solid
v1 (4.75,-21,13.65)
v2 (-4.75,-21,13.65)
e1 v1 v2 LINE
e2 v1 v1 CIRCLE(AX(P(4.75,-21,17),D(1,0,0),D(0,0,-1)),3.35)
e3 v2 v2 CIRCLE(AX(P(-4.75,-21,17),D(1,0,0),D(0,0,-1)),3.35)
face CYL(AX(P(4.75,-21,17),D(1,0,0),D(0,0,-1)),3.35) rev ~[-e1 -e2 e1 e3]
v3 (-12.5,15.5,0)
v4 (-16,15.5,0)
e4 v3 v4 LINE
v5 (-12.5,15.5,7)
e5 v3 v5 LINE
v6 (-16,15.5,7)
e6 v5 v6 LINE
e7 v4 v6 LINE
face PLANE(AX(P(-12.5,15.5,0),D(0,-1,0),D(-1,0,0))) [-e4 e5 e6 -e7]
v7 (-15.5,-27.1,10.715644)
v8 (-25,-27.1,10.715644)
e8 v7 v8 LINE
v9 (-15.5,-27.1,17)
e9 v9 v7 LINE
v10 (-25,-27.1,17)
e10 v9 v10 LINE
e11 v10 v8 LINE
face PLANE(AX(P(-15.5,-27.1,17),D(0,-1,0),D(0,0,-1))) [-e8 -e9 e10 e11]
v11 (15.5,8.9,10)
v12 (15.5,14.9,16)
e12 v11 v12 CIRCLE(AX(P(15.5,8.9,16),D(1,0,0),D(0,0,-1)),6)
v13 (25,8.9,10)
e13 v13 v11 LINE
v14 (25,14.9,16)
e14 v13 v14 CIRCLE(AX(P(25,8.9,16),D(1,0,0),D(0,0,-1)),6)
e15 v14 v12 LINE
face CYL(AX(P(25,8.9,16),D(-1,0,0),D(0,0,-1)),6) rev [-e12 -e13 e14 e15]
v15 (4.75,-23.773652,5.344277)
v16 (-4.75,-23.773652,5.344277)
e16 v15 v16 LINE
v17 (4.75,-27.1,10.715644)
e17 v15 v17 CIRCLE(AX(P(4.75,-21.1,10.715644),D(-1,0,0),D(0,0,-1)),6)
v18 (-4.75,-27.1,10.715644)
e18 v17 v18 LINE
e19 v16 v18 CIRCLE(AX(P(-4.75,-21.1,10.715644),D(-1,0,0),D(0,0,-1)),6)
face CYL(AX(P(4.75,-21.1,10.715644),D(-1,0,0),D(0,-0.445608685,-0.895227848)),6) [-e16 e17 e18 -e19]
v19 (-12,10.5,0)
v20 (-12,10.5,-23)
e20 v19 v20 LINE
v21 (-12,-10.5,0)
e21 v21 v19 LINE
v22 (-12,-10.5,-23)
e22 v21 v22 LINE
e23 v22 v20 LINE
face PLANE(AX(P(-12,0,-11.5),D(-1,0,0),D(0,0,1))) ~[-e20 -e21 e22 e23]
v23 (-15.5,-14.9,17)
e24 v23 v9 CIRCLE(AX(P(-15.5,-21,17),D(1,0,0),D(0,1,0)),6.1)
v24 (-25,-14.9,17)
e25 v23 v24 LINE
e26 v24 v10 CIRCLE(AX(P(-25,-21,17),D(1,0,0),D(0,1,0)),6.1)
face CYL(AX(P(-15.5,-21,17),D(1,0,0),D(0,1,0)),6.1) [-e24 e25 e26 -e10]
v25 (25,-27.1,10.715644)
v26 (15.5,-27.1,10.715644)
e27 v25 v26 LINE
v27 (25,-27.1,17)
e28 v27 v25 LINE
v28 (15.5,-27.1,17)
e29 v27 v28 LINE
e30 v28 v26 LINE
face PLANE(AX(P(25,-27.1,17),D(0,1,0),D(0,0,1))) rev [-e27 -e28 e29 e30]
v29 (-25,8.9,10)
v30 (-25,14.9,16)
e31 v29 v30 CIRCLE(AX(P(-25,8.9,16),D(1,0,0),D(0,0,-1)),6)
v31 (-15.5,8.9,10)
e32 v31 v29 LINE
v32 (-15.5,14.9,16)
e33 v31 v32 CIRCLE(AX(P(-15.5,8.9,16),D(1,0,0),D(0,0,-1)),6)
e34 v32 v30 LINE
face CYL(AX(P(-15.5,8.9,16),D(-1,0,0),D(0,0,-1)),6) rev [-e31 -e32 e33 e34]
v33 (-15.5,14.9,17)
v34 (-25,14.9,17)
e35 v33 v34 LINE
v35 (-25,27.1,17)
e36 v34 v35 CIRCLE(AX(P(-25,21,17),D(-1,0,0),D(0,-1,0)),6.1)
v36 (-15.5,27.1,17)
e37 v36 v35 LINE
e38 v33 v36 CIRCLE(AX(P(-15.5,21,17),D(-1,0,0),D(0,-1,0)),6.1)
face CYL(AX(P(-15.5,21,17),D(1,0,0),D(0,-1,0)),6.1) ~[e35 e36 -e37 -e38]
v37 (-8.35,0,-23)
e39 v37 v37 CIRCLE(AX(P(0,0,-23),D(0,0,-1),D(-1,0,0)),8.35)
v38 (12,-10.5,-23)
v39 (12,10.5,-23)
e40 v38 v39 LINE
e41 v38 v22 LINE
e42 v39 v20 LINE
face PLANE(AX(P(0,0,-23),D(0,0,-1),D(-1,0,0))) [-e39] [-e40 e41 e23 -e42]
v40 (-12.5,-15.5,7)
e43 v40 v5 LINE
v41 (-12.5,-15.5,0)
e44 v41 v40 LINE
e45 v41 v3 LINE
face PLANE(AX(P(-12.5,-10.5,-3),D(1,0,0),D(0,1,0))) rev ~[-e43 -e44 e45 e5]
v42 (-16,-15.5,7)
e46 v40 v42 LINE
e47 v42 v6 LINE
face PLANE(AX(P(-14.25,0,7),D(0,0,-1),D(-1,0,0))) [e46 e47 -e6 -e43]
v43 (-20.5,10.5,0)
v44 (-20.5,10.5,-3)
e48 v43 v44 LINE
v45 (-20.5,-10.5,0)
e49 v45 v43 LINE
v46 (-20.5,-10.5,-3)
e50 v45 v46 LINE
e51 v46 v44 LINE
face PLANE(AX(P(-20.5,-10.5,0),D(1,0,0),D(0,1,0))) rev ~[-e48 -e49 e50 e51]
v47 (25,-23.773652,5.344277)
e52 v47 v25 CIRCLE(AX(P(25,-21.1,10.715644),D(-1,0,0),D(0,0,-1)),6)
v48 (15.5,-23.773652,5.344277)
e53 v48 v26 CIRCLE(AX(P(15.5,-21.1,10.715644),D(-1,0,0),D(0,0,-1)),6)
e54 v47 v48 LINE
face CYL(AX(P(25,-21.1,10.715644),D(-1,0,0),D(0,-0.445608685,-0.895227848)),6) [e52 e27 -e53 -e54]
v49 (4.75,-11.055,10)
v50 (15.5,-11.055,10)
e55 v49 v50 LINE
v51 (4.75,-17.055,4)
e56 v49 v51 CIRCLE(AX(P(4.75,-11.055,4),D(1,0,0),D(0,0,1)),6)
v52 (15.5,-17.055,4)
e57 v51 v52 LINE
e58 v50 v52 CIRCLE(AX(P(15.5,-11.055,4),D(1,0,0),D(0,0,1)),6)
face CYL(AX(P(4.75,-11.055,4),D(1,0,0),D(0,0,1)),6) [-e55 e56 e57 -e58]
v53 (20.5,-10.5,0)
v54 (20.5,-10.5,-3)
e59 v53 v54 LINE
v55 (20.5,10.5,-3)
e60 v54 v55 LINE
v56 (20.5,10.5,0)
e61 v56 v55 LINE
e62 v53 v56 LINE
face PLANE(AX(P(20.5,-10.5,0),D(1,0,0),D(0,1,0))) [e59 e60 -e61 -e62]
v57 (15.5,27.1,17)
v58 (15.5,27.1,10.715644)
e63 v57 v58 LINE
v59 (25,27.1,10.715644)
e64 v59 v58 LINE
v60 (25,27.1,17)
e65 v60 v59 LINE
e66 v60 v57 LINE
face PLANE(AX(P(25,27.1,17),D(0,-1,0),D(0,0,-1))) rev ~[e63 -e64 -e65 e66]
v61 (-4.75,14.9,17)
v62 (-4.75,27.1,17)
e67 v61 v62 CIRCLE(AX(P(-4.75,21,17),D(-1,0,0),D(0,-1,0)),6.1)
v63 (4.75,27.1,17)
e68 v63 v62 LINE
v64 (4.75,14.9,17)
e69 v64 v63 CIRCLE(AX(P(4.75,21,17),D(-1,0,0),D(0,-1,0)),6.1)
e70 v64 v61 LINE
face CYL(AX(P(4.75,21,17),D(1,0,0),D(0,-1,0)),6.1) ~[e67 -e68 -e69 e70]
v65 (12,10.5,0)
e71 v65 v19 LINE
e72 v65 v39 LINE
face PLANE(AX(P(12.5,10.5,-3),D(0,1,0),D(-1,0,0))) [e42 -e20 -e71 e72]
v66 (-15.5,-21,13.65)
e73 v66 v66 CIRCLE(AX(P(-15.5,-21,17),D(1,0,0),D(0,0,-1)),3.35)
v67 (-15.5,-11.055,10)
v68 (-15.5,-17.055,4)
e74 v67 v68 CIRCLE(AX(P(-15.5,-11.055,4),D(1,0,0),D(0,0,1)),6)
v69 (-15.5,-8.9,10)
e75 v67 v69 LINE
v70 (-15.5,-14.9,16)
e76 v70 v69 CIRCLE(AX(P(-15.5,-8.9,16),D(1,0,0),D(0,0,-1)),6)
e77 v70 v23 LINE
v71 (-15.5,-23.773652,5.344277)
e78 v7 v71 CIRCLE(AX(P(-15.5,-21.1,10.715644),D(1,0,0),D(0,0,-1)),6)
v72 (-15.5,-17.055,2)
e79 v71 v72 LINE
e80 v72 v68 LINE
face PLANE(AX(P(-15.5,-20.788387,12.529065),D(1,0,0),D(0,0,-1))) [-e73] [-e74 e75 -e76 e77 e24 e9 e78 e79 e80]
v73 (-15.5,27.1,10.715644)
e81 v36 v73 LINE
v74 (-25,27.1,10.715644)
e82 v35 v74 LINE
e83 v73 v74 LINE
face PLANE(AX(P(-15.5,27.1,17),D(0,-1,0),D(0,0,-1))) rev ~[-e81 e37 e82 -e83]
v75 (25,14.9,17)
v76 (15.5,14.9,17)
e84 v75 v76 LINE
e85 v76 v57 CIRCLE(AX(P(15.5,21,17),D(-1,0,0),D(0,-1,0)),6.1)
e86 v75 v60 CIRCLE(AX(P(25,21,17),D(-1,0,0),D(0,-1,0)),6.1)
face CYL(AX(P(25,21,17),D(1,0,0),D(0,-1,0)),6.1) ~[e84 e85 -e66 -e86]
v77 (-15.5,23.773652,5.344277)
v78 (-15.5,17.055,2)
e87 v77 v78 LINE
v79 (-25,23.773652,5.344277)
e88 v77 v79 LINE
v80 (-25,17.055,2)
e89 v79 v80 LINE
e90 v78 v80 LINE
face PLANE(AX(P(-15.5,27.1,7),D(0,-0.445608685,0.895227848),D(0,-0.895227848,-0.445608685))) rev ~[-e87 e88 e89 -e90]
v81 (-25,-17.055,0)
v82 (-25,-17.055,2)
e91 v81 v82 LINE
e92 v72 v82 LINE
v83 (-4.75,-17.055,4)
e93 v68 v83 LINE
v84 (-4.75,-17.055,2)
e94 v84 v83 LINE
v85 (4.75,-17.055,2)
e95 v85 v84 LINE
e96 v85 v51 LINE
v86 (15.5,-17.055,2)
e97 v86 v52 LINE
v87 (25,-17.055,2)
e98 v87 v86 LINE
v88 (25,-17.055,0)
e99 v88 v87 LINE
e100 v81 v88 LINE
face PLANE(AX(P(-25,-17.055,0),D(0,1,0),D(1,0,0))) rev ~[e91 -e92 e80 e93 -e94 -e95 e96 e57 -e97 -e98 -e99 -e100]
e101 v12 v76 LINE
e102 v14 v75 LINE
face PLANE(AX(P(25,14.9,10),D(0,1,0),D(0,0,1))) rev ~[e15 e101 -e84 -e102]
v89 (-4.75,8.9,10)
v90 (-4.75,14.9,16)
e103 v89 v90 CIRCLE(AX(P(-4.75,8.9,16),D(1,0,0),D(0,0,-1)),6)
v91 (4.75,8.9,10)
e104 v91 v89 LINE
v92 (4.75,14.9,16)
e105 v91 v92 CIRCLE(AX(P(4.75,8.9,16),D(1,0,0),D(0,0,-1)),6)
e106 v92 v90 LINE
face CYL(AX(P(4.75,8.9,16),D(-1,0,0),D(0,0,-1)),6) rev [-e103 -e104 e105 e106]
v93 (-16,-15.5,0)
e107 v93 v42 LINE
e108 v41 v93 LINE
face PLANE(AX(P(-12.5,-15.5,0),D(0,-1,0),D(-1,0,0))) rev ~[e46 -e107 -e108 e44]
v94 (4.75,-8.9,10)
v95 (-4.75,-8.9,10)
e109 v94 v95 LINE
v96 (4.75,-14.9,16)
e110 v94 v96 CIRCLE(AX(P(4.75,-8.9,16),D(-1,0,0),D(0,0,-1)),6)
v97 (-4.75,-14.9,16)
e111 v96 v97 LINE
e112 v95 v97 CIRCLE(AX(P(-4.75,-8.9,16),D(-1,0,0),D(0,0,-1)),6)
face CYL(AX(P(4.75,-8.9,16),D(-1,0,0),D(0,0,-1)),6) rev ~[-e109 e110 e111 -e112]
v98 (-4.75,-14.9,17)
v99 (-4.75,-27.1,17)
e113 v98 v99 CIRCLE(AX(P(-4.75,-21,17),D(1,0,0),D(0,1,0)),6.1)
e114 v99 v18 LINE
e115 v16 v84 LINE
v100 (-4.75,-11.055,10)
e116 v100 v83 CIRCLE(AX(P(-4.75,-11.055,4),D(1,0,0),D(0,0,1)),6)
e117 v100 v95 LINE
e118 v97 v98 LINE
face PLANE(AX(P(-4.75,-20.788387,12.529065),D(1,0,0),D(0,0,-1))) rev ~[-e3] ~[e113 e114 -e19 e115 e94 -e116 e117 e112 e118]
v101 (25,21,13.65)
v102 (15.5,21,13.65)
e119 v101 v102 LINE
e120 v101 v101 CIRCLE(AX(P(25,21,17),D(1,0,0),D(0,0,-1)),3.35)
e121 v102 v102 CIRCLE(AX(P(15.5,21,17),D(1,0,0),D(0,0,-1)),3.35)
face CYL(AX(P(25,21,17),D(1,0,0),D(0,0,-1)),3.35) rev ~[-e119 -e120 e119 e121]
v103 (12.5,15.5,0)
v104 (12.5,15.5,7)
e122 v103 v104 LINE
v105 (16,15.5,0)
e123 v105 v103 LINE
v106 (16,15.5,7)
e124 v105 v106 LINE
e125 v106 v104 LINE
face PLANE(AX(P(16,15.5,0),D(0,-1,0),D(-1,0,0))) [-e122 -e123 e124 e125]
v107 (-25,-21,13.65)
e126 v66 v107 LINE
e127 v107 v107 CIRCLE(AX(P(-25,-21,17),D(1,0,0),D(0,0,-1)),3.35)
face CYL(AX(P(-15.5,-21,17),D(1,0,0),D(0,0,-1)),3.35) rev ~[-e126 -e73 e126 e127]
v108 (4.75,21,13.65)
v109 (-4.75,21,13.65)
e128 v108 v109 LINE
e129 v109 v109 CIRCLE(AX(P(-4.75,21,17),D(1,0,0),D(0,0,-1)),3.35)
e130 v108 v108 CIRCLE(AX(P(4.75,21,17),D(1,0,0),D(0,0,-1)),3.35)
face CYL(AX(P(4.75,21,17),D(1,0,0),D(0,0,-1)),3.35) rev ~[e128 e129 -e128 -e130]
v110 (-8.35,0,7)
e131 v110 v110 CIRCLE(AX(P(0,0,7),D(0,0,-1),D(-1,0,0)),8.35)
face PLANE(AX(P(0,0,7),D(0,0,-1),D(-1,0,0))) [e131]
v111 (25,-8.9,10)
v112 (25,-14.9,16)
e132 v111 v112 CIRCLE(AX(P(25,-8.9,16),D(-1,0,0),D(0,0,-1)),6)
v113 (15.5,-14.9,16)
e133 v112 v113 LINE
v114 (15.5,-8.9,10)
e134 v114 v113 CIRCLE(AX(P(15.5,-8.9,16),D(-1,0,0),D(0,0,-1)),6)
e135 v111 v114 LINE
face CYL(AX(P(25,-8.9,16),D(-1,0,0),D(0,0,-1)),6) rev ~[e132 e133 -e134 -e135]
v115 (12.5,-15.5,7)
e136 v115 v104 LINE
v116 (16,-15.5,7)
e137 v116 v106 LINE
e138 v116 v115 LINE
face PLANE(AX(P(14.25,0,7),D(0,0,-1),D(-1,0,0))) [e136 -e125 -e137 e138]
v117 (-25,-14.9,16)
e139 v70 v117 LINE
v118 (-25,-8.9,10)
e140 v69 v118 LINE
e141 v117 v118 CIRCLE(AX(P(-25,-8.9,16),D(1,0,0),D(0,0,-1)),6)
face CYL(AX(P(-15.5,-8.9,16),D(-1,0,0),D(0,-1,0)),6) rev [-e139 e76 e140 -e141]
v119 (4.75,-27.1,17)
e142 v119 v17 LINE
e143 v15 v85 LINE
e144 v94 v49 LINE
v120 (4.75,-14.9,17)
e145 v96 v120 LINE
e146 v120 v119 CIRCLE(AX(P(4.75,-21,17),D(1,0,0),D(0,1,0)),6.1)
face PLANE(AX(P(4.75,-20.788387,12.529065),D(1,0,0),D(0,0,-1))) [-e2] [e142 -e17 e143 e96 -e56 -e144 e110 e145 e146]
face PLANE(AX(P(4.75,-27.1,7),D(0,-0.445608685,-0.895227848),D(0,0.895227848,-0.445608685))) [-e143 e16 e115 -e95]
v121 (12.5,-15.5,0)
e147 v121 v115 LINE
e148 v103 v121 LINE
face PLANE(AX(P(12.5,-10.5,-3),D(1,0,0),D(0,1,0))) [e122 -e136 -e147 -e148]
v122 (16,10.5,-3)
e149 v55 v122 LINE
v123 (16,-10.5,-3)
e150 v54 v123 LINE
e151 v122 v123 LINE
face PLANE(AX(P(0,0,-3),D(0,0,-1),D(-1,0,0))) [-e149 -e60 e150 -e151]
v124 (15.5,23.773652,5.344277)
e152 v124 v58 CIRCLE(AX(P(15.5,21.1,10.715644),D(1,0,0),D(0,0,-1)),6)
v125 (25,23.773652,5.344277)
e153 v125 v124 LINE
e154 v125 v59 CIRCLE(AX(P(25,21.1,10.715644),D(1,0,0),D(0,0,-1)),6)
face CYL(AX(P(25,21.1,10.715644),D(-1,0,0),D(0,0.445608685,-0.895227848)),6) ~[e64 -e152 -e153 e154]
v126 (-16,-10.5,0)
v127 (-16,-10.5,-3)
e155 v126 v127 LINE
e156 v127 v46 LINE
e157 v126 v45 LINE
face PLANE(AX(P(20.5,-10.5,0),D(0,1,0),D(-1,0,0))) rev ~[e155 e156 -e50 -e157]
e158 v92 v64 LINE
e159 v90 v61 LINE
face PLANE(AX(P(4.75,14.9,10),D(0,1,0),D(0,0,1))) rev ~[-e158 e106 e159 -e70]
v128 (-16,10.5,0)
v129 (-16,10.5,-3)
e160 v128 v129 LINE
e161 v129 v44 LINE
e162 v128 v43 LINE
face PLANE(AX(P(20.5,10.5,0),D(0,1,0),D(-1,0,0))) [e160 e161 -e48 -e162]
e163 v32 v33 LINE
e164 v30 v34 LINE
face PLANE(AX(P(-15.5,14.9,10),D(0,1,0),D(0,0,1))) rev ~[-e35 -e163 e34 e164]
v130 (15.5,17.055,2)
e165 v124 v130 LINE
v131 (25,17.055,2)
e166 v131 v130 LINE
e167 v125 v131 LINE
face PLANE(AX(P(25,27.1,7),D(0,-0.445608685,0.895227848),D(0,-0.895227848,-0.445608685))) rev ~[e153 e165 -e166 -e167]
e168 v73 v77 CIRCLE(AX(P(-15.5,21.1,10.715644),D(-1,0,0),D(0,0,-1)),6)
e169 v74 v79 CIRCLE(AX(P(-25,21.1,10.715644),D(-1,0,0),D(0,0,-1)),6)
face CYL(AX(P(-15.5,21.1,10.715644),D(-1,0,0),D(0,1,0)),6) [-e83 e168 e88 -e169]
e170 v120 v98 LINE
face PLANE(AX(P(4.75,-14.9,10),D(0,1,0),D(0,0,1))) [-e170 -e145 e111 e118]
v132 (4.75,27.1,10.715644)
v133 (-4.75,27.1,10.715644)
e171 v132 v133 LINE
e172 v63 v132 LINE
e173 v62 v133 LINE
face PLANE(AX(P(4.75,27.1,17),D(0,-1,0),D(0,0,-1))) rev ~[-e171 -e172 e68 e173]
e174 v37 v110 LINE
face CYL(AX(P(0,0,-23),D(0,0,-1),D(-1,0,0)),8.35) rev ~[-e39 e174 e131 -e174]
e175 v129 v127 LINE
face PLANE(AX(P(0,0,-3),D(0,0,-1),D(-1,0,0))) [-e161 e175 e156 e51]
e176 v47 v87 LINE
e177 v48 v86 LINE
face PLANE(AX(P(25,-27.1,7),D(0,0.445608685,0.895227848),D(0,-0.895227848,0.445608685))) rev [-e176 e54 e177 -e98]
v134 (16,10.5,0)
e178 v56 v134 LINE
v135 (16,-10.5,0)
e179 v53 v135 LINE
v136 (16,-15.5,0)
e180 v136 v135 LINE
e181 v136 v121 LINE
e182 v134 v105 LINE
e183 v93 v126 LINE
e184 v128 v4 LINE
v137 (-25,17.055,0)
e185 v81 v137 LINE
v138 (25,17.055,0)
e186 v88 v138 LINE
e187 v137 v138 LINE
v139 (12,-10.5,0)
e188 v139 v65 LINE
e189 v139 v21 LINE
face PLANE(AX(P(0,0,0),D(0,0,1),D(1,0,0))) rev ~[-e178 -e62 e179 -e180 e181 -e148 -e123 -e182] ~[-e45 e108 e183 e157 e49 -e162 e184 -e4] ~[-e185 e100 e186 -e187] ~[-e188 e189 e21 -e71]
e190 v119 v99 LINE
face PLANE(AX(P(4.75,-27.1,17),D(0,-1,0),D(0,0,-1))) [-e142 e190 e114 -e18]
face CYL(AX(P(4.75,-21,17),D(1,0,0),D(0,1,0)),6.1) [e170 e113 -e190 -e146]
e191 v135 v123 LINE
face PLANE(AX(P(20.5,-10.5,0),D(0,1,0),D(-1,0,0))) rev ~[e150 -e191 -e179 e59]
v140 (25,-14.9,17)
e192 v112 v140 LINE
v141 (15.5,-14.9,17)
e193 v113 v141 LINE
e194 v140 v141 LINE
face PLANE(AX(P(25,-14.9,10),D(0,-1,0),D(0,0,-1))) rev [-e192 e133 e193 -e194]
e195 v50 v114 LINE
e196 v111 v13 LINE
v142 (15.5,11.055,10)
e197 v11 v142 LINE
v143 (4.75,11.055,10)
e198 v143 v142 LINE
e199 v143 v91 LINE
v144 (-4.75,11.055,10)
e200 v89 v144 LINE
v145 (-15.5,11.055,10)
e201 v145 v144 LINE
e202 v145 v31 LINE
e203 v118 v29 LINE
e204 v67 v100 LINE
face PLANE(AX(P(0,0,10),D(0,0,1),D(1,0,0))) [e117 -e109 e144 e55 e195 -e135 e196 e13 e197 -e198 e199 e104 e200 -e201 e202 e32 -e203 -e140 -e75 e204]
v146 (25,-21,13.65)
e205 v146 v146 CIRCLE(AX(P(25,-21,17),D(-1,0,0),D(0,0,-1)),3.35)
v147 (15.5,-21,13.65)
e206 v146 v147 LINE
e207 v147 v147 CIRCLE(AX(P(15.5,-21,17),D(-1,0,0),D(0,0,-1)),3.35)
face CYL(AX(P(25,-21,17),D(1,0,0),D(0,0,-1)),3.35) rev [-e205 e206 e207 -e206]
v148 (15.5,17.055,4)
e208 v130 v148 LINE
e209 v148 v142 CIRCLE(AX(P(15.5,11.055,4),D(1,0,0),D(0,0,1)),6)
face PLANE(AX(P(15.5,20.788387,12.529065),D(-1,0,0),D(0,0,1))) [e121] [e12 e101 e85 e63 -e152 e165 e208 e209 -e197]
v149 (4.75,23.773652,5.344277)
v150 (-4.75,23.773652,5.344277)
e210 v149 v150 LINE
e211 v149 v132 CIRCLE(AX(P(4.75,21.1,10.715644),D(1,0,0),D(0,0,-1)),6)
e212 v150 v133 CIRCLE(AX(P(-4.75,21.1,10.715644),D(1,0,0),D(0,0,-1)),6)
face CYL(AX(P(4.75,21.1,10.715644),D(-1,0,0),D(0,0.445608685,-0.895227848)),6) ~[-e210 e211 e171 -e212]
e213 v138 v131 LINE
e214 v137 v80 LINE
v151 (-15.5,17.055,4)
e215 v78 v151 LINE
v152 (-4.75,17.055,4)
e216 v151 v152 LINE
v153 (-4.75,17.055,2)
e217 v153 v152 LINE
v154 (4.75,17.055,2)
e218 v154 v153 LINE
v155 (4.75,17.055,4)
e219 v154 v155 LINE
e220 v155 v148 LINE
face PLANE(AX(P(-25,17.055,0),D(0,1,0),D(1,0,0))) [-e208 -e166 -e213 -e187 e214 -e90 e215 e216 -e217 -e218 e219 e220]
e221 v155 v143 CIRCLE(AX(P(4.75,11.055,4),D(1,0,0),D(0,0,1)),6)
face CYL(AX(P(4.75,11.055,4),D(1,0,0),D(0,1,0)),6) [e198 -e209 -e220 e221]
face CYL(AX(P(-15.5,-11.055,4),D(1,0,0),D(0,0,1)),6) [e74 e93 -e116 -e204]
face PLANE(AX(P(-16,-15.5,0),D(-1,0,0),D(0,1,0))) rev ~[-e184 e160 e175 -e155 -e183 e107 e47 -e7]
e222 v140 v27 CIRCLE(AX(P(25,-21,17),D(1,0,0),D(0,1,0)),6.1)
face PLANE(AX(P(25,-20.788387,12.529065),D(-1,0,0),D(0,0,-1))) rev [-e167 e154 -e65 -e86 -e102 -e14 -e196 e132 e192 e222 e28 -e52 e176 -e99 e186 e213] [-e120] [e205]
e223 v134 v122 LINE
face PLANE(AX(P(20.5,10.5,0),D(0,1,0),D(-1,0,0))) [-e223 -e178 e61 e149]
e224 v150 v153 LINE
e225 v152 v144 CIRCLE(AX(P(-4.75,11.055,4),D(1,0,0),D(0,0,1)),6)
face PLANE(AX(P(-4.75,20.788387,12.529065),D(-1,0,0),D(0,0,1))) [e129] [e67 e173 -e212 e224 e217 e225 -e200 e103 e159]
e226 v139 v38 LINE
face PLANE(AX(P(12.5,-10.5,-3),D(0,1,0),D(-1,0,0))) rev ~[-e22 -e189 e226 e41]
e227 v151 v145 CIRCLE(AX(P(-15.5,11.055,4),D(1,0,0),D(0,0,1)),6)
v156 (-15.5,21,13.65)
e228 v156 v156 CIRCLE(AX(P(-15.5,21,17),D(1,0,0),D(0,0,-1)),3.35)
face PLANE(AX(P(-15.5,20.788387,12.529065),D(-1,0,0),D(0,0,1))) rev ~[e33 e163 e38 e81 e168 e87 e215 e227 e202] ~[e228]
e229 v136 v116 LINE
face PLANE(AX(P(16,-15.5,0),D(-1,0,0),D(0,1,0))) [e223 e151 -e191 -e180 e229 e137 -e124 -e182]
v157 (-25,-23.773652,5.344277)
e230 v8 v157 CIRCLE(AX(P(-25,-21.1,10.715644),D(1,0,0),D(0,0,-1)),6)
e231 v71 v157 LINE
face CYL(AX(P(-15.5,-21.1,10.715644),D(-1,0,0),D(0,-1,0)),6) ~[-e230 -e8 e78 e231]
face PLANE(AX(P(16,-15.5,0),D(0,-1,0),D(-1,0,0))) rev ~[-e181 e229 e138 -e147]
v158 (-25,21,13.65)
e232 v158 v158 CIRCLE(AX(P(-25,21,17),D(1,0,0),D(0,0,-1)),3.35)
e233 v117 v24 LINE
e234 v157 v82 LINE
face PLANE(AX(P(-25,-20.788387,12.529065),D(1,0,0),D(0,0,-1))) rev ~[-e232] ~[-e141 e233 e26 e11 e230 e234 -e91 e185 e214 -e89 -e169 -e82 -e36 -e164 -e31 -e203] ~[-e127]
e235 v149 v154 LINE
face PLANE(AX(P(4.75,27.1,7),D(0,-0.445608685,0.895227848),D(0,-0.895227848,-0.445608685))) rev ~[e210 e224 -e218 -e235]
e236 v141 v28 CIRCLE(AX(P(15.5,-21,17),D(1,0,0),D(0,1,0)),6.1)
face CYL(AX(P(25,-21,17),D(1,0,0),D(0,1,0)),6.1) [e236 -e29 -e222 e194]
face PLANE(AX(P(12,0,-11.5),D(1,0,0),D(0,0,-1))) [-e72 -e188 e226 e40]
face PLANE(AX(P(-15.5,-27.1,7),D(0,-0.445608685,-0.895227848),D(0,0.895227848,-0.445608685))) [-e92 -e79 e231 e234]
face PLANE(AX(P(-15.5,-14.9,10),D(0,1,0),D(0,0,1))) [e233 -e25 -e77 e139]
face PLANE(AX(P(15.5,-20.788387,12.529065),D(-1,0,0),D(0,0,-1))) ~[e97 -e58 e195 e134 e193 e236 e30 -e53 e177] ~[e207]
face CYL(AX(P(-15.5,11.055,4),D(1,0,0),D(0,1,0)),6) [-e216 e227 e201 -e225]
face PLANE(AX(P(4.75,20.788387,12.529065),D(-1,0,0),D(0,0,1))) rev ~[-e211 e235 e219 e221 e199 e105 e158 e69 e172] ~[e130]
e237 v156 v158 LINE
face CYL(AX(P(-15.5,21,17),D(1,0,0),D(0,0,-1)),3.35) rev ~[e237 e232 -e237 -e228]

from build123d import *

# Parameters (mm, degrees)
SKETCH1_W               = 50
SKETCH1_H               = 34.11
BOSS_EXTRUDE1_DEPTH     = 10
SKETCH3_W               = 41
SKETCH3_H               = 21
BOSS_EXTRUDE2_DEPTH     = 3
SKETCH2_W               = 3.5
SKETCH2_H               = 31
CUT_EXTRUDE1_DEPTH      = 4
CUT_EXTRUDE1_DEPTH_BACK = 7
SKETCH4_W               = 25
SKETCH4_H               = 21
BOSS_EXTRUDE3_DEPTH     = 20
SKETCH5_R               = 8.35
CUT_EXTRUDE2_DEPTH      = 30
SKETCH6_R               = 3.35
BOSS_EXTRUDE4_DEPTH     = 9.5
LPATTERN1_COUNT         = 3
LPATTERN1_PITCH         = 20.25
MIRROR1_COPY_1_SKETCH_R = 3.35
MIRROR1_COPY_1_DEPTH    = 9.5
MIRROR1_COPY_2_SKETCH_R = 3.35
MIRROR1_COPY_2_DEPTH    = 9.5
FILLET1_R               = 6
SKETCH7_W               = 23
SKETCH7_H               = 21
CUT_EXTRUDE3_DEPTH      = 0.5
FILLET2_R               = 6


with BuildPart() as part:
    # Sketch1 → Boss-Extrude1 (new body)
    with BuildSketch(Plane.XY):
        Rectangle(SKETCH1_W, SKETCH1_H)
    extrude(amount=BOSS_EXTRUDE1_DEPTH)

    # Sketch3 → Boss-Extrude2 (add)
    with BuildSketch(Plane(origin=(0, 0, 0), x_dir=(-1, 0, 0), z_dir=(0, 0, -1))):
        Rectangle(SKETCH3_W, SKETCH3_H)
    extrude(amount=BOSS_EXTRUDE2_DEPTH)

    # Sketch2 → Cut-Extrude1 (cut, two sides)
    with BuildSketch(Plane(origin=(0, 0, 0), x_dir=(-1, 0, 0), z_dir=(0, 0, -1))) as cut_extrude1_sk:
        with Locations((-14.25, 0)):
            Rectangle(SKETCH2_W, SKETCH2_H)
        with Locations((14.25, 0)):
            Rectangle(SKETCH2_W, SKETCH2_H)
    extrude(amount=CUT_EXTRUDE1_DEPTH, mode=Mode.SUBTRACT)
    extrude(cut_extrude1_sk.sketch, amount=-CUT_EXTRUDE1_DEPTH_BACK, mode=Mode.SUBTRACT)

    # Sketch4 → Boss-Extrude3 (add)
    with BuildSketch(Plane(origin=(0, 0, -3), x_dir=(-1, 0, 0), z_dir=(0, 0, -1))):
        Rectangle(SKETCH4_W, SKETCH4_H)
    extrude(amount=BOSS_EXTRUDE3_DEPTH)

    # Sketch5 → Cut-Extrude2 (cut)
    with BuildSketch(Plane(origin=(0, 0, -23), x_dir=(-1, 0, 0), z_dir=(0, 0, -1))):
        Circle(SKETCH5_R)
    extrude(amount=-CUT_EXTRUDE2_DEPTH, mode=Mode.SUBTRACT)

    # Sketch6 → Boss-Extrude4 (add)
    with BuildSketch(Plane(origin=(25, 0, 0), x_dir=(0, 0, -1), z_dir=(1, 0, 0))):
        with BuildLine():
            Line((-17, 27.1), (-7, 27.1))
            Line((-7, 27.1), (-2, 17.055))
            Line((-2, 17.055), (-10, 17.055))
            Line((-10, 17.055), (-10, 14.9))
            Line((-10, 14.9), (-17, 14.9))
            ThreePointArc((-17, 14.9), (-23.1, 21), (-17, 27.1))
        make_face()
        with Locations((-17, 21)):
            Circle(SKETCH6_R, mode=Mode.SUBTRACT)
    boss_extrude4 = extrude(amount=-BOSS_EXTRUDE4_DEPTH)

    # LPattern1: Boss-Extrude4 ×3
    with Locations(*[(-i * LPATTERN1_PITCH, 0, 0) for i in range(1, LPATTERN1_COUNT)]):
        add(boss_extrude4)

    # Mirror1: Boss-Extrude4 across plane
    add(boss_extrude4.mirror(Plane.ZX))

    # Mirror1 copy 1 sketch → Mirror1 copy 1 (add)
    with BuildSketch(Plane(origin=(4.75, 0, 0), x_dir=(0, 0, -1), z_dir=(1, 0, 0))):
        with BuildLine():
            Line((-17, -27.1), (-7, -27.1))
            Line((-7, -27.1), (-2, -17.055))
            Line((-2, -17.055), (-10, -17.055))
            Line((-10, -17.055), (-10, -14.9))
            Line((-10, -14.9), (-17, -14.9))
            ThreePointArc((-17, -14.9), (-23.1, -21), (-17, -27.1))
        make_face()
        with Locations((-17, -21)):
            Circle(MIRROR1_COPY_1_SKETCH_R, mode=Mode.SUBTRACT)
    extrude(amount=-MIRROR1_COPY_1_DEPTH)

    # Mirror1 copy 2 sketch → Mirror1 copy 2 (add)
    with BuildSketch(Plane(origin=(-15.5, 0, 0), x_dir=(0, 0, -1), z_dir=(1, 0, 0))):
        with BuildLine():
            Line((-17, -27.1), (-7, -27.1))
            Line((-7, -27.1), (-2, -17.055))
            Line((-2, -17.055), (-10, -17.055))
            Line((-10, -17.055), (-10, -14.9))
            Line((-10, -14.9), (-17, -14.9))
            ThreePointArc((-17, -14.9), (-23.1, -21), (-17, -27.1))
        make_face()
        with Locations((-17, -21)):
            Circle(MIRROR1_COPY_2_SKETCH_R, mode=Mode.SUBTRACT)
    extrude(amount=-MIRROR1_COPY_2_DEPTH)

    # Fillet1
    fillet1_edges = [part.edges().sort_by_distance(p)[0] for p in [
        (20.25, 27.1, 7),
        (20.25, 14.9, 10),
        (0, 27.1, 7),
        (0, 14.9, 10),
        (-20.25, 27.1, 7),
        (-20.25, 14.9, 10),
        (20.25, -14.9, 10),
        (20.25, -27.1, 7),
        (0, -14.9, 10),
        (0, -27.1, 7),
        (-20.25, -14.9, 10),
        (-20.25, -27.1, 7),
    ]]
    fillet(fillet1_edges, radius=FILLET1_R)

    # Sketch7 → Cut-Extrude3 (cut)
    with BuildSketch(Plane(origin=(12.5, 0, 0), x_dir=(0, 0, -1), z_dir=(1, 0, 0))):
        with Locations((11.5, 0)):
            Rectangle(SKETCH7_W, SKETCH7_H)
    cut_extrude3 = extrude(amount=-CUT_EXTRUDE3_DEPTH, mode=Mode.SUBTRACT)

    # Mirror2: Cut-Extrude3 across plane
    add(cut_extrude3.mirror(Plane(origin=(0, 0, 0), x_dir=(0, 0, 1), z_dir=(1, 0, 0))), mode=Mode.SUBTRACT)

    # Fillet2
    fillet2_edges = [part.edges().sort_by_distance(p)[0] for p in [
        (10.125, 17.055, 10),
        (-10.125, 17.055, 10),
        (10.125, -17.055, 10),
        (-10.125, -17.055, 10),
    ]]
    fillet(fillet2_edges, radius=FILLET2_R)


solid = part.part
